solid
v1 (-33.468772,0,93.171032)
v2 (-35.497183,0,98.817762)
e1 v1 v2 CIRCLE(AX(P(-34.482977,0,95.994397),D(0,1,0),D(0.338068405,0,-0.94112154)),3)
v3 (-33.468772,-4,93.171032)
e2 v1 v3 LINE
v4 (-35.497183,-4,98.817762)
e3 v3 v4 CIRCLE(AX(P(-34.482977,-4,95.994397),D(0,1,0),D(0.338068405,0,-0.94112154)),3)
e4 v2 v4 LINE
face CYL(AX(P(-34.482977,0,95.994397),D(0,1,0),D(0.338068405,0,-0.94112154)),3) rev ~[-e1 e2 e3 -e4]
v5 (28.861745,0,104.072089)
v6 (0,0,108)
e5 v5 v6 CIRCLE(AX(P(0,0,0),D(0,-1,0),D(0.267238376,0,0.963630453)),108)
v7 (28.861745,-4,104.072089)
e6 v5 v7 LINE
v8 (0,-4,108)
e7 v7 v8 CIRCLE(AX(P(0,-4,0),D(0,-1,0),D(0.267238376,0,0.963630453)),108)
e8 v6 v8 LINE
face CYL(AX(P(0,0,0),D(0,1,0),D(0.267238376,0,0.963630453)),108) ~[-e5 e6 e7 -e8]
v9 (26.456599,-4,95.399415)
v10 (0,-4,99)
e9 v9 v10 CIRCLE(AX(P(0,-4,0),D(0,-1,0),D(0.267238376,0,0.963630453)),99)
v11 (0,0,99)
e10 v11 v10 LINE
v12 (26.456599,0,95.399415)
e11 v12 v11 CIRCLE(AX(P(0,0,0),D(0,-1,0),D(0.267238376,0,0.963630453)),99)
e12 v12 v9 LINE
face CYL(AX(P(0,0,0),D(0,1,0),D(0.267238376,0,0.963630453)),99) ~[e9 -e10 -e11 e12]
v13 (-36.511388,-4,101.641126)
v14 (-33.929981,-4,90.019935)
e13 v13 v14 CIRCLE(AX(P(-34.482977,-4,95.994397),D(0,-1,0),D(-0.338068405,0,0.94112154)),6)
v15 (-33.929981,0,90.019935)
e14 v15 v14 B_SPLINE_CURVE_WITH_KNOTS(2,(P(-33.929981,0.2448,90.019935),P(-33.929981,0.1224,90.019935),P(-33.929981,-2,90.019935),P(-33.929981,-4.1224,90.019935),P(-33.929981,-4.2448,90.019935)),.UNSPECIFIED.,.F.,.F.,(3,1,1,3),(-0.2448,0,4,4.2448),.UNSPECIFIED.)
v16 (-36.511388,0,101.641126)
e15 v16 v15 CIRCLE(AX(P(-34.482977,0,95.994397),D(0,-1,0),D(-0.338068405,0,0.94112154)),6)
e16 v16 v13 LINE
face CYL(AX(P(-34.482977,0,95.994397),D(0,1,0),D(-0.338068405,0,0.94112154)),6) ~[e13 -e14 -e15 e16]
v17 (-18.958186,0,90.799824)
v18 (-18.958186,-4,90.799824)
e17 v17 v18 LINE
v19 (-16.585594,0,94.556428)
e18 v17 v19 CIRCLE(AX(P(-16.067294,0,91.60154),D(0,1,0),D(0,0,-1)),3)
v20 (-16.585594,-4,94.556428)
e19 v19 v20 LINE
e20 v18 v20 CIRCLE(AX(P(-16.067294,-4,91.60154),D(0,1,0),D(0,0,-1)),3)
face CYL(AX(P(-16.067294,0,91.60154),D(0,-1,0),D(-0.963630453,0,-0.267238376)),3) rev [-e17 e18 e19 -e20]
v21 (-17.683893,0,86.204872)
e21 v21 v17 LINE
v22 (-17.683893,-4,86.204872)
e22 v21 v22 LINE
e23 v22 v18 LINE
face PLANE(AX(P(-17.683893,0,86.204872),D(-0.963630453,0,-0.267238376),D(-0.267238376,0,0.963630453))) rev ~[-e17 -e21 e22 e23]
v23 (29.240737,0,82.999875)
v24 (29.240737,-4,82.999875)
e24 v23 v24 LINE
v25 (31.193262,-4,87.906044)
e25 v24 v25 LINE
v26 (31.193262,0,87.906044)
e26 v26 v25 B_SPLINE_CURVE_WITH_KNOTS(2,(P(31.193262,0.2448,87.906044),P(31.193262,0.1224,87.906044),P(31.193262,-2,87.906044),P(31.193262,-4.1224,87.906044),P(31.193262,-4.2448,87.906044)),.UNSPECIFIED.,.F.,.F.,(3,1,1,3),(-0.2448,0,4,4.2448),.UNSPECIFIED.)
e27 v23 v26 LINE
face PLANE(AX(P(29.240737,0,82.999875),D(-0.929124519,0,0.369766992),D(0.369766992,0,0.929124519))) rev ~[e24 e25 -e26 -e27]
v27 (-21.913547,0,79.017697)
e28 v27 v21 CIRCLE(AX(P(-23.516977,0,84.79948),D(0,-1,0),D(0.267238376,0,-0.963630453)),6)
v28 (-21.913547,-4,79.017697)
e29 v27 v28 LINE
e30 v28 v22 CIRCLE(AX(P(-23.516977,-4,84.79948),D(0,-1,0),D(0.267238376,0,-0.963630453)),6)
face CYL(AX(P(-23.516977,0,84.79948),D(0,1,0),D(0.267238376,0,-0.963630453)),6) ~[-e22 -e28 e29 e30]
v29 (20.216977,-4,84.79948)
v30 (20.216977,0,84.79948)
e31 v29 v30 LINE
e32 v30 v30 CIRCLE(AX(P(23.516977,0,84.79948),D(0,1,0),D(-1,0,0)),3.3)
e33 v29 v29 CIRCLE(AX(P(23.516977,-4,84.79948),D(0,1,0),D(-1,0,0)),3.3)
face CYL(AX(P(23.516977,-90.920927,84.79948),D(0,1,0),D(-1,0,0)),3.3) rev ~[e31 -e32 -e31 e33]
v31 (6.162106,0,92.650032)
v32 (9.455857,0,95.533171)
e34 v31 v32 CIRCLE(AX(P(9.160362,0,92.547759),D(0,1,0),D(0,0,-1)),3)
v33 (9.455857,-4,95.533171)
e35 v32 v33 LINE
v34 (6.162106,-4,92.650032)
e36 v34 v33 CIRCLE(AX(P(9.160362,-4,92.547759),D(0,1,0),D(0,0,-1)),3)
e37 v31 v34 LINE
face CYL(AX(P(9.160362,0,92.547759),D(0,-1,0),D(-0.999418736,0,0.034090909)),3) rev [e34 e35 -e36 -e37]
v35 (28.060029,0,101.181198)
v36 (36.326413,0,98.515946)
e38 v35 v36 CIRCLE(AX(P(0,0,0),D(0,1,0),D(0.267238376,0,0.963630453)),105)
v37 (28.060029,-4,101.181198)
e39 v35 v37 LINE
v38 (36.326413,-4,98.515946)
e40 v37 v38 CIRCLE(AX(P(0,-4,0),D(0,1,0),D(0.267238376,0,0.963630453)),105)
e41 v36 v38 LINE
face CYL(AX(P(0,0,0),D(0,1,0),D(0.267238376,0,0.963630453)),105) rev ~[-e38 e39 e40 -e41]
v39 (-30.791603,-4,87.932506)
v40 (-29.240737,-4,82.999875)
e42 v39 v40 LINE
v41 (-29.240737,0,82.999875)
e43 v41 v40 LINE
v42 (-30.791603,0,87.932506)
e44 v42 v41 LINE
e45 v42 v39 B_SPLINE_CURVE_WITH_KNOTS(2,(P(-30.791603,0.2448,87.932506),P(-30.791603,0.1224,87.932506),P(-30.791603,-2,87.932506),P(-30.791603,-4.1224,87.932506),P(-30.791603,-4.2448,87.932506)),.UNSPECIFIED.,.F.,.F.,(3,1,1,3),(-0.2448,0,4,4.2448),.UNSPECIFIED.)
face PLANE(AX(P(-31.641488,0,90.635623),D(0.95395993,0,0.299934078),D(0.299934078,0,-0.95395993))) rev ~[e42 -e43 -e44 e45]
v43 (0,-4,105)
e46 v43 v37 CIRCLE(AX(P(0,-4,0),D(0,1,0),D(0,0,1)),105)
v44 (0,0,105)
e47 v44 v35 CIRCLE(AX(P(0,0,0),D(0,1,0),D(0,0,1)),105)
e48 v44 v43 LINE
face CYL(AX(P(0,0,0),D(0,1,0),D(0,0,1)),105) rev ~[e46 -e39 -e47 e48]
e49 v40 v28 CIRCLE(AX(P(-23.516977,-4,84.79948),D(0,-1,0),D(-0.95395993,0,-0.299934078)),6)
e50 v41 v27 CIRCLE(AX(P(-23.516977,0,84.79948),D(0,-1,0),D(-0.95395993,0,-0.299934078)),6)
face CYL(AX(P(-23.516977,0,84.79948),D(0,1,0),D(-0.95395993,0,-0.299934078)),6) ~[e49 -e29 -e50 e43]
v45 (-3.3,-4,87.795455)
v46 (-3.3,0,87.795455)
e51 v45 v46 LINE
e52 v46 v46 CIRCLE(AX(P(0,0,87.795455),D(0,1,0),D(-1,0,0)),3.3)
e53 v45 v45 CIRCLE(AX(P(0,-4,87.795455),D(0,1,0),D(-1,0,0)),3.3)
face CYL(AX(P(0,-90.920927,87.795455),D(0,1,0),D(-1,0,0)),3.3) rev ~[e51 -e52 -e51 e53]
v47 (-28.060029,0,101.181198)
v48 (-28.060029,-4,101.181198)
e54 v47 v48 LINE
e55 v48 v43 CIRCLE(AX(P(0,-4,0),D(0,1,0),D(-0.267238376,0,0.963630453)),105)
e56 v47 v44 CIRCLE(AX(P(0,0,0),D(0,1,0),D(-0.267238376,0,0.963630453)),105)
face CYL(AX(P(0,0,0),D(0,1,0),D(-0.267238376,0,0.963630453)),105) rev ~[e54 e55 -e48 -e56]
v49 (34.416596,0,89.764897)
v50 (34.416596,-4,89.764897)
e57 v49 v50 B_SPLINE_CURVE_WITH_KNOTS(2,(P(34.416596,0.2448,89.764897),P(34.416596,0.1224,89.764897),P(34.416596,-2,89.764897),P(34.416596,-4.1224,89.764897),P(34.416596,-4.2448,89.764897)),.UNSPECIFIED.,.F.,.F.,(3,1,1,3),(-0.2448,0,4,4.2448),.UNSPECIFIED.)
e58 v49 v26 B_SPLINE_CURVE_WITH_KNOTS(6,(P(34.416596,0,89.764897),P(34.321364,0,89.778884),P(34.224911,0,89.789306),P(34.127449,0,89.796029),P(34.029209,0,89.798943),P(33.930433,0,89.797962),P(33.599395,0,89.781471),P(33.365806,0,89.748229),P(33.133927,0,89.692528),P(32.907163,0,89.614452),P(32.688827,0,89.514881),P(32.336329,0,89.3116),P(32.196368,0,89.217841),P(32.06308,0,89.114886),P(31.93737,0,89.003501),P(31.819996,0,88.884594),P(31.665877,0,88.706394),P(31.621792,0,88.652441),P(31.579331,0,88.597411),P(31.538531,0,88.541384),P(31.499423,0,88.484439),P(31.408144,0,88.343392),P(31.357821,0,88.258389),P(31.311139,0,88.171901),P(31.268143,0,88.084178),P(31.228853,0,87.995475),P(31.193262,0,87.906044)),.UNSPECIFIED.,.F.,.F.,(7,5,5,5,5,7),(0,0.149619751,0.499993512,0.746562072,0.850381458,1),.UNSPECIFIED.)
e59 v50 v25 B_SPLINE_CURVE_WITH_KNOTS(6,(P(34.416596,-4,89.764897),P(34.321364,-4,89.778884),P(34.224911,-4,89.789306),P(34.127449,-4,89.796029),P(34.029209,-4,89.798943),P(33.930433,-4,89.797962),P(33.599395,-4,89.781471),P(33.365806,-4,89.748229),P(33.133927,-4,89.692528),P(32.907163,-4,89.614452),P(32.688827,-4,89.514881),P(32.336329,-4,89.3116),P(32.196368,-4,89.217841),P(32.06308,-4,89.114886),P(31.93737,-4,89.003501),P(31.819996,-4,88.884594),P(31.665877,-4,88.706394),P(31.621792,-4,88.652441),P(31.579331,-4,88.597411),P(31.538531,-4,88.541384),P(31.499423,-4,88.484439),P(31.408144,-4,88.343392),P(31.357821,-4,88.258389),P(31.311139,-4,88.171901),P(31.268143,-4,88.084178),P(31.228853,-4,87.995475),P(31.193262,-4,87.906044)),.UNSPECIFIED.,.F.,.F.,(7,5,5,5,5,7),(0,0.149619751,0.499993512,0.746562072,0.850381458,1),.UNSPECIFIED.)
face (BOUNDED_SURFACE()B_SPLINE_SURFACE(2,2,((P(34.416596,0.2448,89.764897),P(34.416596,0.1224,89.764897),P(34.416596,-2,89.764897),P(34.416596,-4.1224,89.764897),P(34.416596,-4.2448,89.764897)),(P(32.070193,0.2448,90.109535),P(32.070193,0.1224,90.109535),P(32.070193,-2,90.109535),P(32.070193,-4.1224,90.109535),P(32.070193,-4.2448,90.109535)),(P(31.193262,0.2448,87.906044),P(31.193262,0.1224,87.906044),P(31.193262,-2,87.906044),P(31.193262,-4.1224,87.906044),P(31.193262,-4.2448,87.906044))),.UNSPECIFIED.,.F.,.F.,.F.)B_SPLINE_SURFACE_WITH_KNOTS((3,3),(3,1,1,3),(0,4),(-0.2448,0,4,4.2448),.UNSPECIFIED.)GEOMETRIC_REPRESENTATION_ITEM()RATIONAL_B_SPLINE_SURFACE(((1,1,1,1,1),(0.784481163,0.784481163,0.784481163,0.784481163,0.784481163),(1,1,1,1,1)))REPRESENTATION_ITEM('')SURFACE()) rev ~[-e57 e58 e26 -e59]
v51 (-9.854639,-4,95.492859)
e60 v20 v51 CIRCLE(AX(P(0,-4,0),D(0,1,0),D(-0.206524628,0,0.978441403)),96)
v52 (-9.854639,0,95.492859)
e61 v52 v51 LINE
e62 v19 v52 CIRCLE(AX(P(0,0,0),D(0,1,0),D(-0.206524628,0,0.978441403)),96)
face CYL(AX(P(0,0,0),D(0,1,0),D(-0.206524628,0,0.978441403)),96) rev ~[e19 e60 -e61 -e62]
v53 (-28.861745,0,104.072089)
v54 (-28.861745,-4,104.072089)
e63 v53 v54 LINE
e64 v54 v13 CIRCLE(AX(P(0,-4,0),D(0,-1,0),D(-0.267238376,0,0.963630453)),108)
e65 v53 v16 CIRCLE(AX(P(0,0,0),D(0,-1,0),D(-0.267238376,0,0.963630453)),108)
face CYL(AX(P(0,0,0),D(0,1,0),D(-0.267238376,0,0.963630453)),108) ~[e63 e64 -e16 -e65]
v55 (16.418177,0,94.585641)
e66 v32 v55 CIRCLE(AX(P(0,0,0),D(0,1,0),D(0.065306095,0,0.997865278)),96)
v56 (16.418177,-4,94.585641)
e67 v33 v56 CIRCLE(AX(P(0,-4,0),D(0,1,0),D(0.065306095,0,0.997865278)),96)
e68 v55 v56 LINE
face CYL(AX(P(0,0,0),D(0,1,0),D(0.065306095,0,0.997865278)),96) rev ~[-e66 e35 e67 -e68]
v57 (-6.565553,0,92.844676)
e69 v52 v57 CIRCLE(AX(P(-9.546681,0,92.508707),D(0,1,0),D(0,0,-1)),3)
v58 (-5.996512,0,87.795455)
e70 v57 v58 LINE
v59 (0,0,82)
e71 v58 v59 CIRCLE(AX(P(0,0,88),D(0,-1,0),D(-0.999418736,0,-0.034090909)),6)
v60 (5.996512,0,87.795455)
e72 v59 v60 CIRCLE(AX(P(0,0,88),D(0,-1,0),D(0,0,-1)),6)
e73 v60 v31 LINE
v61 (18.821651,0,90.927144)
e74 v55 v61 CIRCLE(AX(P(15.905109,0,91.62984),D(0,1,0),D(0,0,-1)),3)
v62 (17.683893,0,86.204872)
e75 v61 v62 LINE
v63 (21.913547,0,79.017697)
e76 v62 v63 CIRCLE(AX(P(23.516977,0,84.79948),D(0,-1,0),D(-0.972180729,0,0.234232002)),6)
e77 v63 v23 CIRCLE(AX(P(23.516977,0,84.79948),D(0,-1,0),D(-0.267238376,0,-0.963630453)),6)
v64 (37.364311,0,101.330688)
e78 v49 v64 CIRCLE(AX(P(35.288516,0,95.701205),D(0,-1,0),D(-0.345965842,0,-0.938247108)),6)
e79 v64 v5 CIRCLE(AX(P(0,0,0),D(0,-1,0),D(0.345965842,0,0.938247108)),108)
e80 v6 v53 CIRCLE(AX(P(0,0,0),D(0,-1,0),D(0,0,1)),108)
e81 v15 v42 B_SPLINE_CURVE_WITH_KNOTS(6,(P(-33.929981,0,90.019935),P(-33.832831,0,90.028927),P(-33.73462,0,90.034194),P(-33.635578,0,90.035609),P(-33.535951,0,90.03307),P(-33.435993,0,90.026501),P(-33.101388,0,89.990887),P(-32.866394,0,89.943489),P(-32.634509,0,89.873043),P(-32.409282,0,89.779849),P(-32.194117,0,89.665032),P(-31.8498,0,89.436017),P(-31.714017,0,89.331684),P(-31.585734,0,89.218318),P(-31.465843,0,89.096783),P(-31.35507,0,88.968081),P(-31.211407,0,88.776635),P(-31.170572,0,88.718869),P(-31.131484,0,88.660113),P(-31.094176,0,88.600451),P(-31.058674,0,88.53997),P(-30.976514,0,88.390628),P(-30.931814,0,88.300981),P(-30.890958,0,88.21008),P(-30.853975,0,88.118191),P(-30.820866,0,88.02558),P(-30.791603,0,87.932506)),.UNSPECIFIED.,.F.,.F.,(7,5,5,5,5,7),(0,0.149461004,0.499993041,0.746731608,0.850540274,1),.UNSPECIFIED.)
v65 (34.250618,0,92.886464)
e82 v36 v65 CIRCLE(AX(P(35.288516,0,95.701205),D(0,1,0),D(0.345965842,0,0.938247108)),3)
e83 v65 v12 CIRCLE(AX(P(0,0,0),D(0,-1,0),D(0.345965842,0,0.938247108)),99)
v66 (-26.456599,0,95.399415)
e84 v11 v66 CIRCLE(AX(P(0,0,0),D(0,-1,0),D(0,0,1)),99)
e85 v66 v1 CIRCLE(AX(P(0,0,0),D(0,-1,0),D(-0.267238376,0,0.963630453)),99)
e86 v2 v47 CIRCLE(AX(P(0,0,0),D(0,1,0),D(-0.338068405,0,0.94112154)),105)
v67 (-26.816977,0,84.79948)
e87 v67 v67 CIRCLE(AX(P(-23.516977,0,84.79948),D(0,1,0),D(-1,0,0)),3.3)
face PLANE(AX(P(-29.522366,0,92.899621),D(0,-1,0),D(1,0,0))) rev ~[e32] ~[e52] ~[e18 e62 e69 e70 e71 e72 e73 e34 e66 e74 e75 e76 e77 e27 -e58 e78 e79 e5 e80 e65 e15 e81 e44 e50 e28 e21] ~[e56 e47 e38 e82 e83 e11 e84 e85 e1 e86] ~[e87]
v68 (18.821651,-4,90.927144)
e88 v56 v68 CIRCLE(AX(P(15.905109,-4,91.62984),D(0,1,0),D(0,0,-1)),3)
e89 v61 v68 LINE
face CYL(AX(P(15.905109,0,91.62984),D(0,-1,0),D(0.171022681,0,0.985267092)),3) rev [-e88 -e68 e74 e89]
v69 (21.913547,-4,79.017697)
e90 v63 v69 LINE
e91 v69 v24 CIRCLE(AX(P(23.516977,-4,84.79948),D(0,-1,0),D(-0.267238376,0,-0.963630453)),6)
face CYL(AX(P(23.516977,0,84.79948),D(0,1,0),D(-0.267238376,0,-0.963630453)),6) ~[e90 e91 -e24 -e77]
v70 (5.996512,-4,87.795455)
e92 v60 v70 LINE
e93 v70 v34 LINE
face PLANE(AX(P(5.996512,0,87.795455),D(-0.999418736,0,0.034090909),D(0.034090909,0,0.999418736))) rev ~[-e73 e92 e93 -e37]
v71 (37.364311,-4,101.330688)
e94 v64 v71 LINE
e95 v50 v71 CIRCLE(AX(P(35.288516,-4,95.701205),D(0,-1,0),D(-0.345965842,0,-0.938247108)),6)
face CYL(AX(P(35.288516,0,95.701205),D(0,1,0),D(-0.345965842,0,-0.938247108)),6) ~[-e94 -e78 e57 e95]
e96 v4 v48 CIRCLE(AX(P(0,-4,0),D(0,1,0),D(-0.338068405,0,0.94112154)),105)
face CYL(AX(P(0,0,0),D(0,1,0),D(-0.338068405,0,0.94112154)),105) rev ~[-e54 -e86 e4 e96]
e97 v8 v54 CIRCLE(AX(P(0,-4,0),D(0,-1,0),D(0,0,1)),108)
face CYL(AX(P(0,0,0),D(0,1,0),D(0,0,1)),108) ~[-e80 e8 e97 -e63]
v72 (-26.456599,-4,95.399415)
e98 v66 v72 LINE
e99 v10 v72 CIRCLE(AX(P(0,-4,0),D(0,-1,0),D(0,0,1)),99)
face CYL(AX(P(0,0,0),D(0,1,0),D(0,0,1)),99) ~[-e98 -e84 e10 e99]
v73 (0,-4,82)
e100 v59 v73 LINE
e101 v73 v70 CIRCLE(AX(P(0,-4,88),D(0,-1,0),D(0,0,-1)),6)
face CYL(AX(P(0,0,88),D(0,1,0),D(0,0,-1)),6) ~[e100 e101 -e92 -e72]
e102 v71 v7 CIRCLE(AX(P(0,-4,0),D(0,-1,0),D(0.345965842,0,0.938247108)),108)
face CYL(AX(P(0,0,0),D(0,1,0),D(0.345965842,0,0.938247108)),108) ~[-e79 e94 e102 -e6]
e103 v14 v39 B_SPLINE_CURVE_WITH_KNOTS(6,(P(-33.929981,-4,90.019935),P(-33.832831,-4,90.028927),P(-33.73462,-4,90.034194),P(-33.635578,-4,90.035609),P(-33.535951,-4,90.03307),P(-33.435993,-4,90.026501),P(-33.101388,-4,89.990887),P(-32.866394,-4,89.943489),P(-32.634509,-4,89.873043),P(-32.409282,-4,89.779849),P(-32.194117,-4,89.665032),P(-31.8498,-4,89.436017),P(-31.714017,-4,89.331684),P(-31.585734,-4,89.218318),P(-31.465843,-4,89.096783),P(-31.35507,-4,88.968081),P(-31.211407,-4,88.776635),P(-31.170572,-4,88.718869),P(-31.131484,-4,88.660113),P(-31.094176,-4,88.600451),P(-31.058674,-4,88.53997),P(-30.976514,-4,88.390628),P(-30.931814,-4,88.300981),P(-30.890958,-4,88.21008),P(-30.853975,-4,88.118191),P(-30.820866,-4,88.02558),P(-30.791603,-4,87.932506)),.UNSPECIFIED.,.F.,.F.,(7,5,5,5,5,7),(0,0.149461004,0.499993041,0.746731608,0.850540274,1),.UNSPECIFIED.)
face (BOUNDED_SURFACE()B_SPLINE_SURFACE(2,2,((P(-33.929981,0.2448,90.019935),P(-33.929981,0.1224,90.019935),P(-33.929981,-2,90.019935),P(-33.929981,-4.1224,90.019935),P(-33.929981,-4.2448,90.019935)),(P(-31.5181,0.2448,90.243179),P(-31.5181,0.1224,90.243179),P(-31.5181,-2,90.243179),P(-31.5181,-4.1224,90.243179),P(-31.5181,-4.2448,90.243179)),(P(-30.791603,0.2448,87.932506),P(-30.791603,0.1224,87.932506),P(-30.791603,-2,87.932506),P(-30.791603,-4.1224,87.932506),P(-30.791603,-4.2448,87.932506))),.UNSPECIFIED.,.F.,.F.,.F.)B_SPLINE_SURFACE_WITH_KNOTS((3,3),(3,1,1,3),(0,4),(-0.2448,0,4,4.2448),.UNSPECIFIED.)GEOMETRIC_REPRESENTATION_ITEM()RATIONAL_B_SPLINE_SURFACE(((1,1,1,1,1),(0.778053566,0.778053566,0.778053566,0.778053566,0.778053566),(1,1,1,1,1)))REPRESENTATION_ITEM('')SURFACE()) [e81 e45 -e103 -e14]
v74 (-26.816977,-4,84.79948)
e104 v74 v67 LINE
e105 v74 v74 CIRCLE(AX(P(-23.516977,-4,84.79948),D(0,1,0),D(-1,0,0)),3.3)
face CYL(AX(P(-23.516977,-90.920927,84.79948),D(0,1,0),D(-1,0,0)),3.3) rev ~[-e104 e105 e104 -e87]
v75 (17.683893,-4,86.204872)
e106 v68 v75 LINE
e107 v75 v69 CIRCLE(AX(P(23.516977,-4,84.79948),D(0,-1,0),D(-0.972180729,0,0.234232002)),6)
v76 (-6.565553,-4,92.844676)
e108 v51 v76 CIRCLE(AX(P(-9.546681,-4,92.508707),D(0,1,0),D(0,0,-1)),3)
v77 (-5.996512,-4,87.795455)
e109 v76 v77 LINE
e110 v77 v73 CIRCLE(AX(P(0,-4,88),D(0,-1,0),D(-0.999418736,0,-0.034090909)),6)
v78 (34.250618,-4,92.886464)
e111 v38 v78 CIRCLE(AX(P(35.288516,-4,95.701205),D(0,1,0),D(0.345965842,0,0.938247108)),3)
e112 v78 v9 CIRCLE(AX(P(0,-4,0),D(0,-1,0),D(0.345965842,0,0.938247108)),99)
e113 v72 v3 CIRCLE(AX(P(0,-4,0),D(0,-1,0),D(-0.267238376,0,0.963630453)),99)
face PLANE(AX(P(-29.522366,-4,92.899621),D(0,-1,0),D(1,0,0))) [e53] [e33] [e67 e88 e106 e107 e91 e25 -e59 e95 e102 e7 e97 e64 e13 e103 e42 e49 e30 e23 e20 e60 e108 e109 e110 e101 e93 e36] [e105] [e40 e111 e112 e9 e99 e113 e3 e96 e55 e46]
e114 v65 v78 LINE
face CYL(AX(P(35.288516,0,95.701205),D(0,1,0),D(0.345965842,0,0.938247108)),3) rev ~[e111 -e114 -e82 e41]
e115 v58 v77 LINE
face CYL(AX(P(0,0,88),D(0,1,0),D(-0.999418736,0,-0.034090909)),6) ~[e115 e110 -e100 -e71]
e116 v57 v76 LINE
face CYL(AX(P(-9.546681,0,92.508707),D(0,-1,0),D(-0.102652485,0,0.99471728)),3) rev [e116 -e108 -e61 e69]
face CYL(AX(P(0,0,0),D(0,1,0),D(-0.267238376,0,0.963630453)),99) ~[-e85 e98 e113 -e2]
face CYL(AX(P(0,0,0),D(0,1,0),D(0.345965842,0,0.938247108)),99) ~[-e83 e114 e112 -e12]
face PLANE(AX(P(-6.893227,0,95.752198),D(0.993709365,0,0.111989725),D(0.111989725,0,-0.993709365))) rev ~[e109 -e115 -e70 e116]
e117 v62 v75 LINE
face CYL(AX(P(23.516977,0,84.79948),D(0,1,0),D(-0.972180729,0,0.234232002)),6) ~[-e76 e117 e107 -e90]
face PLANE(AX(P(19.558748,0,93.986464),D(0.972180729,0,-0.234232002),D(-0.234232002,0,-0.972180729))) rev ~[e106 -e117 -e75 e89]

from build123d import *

# Parameters (mm, degrees)
F1_DEPTH = 4
F3_D     = 6.6
F4_R     = 3


with BuildPart() as f1:
    # F0 (on Front) → F1 (new body)
    with BuildSketch(Plane.XZ):
        with BuildLine():
            Line((-33.4687721395, 93.1710324697), (-32.4545669232, 90.3476678494))
            ThreePointArc((-32.4545669232, 90.3476678494), (-32.0483511021, 90.4925587639), (-31.6414884556, 90.6356232853))
            ThreePointArc((-31.6414884556, 90.6356232853), (-28.6634875045, 91.6209827718), (-25.6548841035, 92.508523508))
            Line((-25.6548841035, 92.508523508), (-26.4565992317, 95.3994148677))
            ThreePointArc((-26.4565992318, 95.3994148677), (-29.9833946631, 94.350389742), (-33.4687721395, 93.1710324697))
        make_face()
        with BuildLine():
            ThreePointArc((0, 99), (-13.3502420971, 98.0957238413), (-26.4565992318, 95.3994148677))
            Line((-26.4565992317, 95.3994148677), (-25.6548841035, 92.508523508))
            ThreePointArc((-25.6548841035, 92.508523508), (-22.7517340683, 93.2649912716), (-19.8263642502, 93.9303746432))
            ThreePointArc((-19.8263642502, 93.9303746432), (-13.3908139049, 95.0614859076), (-6.8932268351, 95.7521980103))
            ThreePointArc((-6.8932268351, 95.7521980103), (-3.4488397334, 95.9380295008), (0, 96))
            Line((0, 96), (0, 99))
        make_face()
        with BuildLine():
            ThreePointArc((-19.8263642502, 93.9303746432), (-22.7517340683, 93.2649912716), (-25.6548841035, 92.508523508))
            Line((-25.6548841035, 92.508523508), (-23.5169770949, 84.7994798824))
            ThreePointArc((-23.5169770949, 84.7994798824), (-20.6124161637, 85.5519041278), (-17.6838927225, 86.2048718935))
            Line((-17.6838927225, 86.2048718935), (-19.8263642502, 93.9303746432))
        make_face()
        with BuildLine():
            ThreePointArc((-25.6548841035, 92.508523508), (-28.6634875045, 91.6209827718), (-31.6414884556, 90.6356232853))
            Line((-31.6414884556, 90.6356232853), (-29.240736677, 82.9998754131))
            ThreePointArc((-29.240736677, 82.9998754131), (-26.3941988829, 83.9484738714), (-23.5169770949, 84.7994798824))
            Line((-23.5169770949, 84.7994798824), (-25.6548841035, 92.508523508))
        make_face()
        with BuildLine():
            ThreePointArc((-23.5169770949, 84.7994798824), (-26.3941988829, 83.9484738714), (-29.240736677, 82.9998754131))
            ThreePointArc((-29.240736677, 82.9998754131), (-26.3820624935, 79.5277358011), (-21.9135468384, 79.0176971631))
            Line((-21.9135468384, 79.0176971631), (-23.5169770949, 84.7994798824))
        make_face()
        with BuildLine():
            Line((-23.5169770949, 84.7994798824), (-21.9135468384, 79.0176971631))
            ThreePointArc((-21.9135468384, 79.0176971631), (-18.3459706544, 81.7563413064), (-17.6838927225, 86.2048718935))
            ThreePointArc((-17.6838927225, 86.2048718935), (-20.6124161637, 85.5519041278), (-23.5169770949, 84.7994798824))
        make_face()
        with BuildLine():
            Line((0, 88), (0, 96))
            ThreePointArc((0, 96), (-3.4488397334, 95.9380295008), (-6.8932268351, 95.7521980103))
            Line((-6.8932268351, 95.7521980103), (-5.9965124161, 87.7954545455))
            ThreePointArc((-5.9965124161, 87.7954545455), (-3, 87.9488487702), (0, 88))
        make_face()
        with BuildLine():
            ThreePointArc((6.2693850791, 95.7950667348), (3.1363668039, 95.9487530053), (0, 96))
            Line((0, 96), (0, 88))
            ThreePointArc((0, 88), (3, 87.9488487702), (5.9965124161, 87.7954545455))
            Line((5.9965124161, 87.7954545455), (6.2693850791, 95.7950667348))
        make_face()
        with BuildLine():
            Line((0, 88), (0, 82))
            ThreePointArc((0, 82), (4.1696958686, 83.685647631), (5.9965124161, 87.7954545455))
            ThreePointArc((5.9965124161, 87.7954545455), (3, 87.9488487702), (0, 88))
        make_face()
        with BuildLine():
            ThreePointArc((-5.9965124161, 87.7954545455), (-4.1696958686, 83.685647631), (0, 82))
            Line((0, 82), (0, 88))
            ThreePointArc((0, 88), (-3, 87.9488487702), (-5.9965124161, 87.7954545455))
        make_face()
        with BuildLine():
            ThreePointArc((26.4565992318, 95.3994148677), (13.3502420971, 98.0957238413), (0, 99))
            Line((0, 99), (0, 96))
            ThreePointArc((0, 96), (3.1363668039, 95.9487530053), (6.2693850791, 95.7950667348))
            ThreePointArc((6.2693850791, 95.7950667348), (12.9456893063, 95.1231261491), (19.5587476854, 93.9864638604))
            ThreePointArc((19.5587476854, 93.9864638604), (22.6188903752, 93.2972979147), (25.6548841035, 92.508523508))
            Line((25.6548841035, 92.508523508), (26.4565992317, 95.3994148677))
        make_face()
        with BuildLine():
            Line((-35.4971825722, 98.8177617103), (-36.5113877886, 101.6411263306))
            ThreePointArc((-36.5113877886, 101.6411263306), (-40.1297065965, 93.9659866573), (-32.4545669232, 90.3476678494))
            Line((-32.4545669232, 90.3476678494), (-33.4687721395, 93.1710324697))
            ThreePointArc((-33.4687721395, 93.1710324697), (-37.3063419762, 94.9801918737), (-35.4971825722, 98.8177617103))
        make_face()
        with BuildLine():
            ThreePointArc((-28.8617446165, 104.0720889465), (-32.7091578143, 102.9276979004), (-36.5113877886, 101.6411263306))
            Line((-36.5113877886, 101.6411263306), (-35.4971825722, 98.8177617103))
            ThreePointArc((-35.4971825722, 98.8177617103), (-31.8005700973, 100.068595181), (-28.0600294882, 101.1811975869))
            Line((-28.0600294882, 101.1811975869), (-28.8617446165, 104.0720889465))
        make_face()
        with BuildLine():
            ThreePointArc((0, 108), (-14.5639004696, 107.0135169178), (-28.8617446165, 104.0720889465))
            Line((-28.8617446165, 104.0720889465), (-28.0600294882, 101.1811975869))
            ThreePointArc((-28.0600294882, 101.1811975869), (-14.1593476787, 104.0409192256), (0, 105))
            Line((0, 105), (0, 108))
        make_face()
        with BuildLine():
            ThreePointArc((28.8617446165, 104.0720889465), (14.5639004696, 107.0135169178), (0, 108))
            Line((0, 108), (0, 105))
            ThreePointArc((0, 105), (14.1593476787, 104.0409192256), (28.0600294882, 101.1811975869))
            Line((28.0600294882, 101.1811975869), (28.8617446165, 104.0720889465))
        make_face()
        with BuildLine():
            ThreePointArc((37.3643109139, 101.3306877009), (33.1413854263, 102.789340751), (28.8617446165, 104.0720889465))
            Line((28.8617446165, 104.0720889465), (28.0600294882, 101.1811975869))
            ThreePointArc((28.0600294882, 101.1811975869), (32.2207913867, 99.9340812857), (36.3264133885, 98.5159463758))
            Line((36.3264133885, 98.5159463758), (37.3643109139, 101.3306877009))
        make_face()
        with BuildLine():
            ThreePointArc((33.2127208123, 90.0717224008), (40.9179985132, 93.62541), (37.3643109139, 101.3306877009))
            Line((37.3643109139, 101.3306877009), (36.3264133885, 98.5159463758))
            ThreePointArc((36.3264133885, 98.5159463758), (38.1032571881, 94.6633075254), (34.2506183377, 92.8864637258))
            Line((34.2506183377, 92.8864637258), (33.2127208123, 90.0717224008))
        make_face()
        with BuildLine():
            ThreePointArc((32.2010471833, 90.4383356785), (32.7073976674, 90.2564465167), (33.2127208123, 90.0717224008))
            Line((33.2127208123, 90.0717224008), (34.2506183377, 92.8864637258))
            ThreePointArc((34.2506183377, 92.8864637258), (30.3796033074, 94.2235623551), (26.4565992318, 95.3994148677))
            Line((26.4565992317, 95.3994148677), (25.6548841035, 92.508523508))
            ThreePointArc((25.6548841035, 92.508523508), (28.9464784677, 91.5319691928), (32.2010471833, 90.4383356785))
        make_face()
        with BuildLine():
            ThreePointArc((23.5169770949, 84.7994798824), (26.3941988829, 83.9484738714), (29.240736677, 82.9998754131))
            Line((29.240736677, 82.9998754131), (32.2010471833, 90.4383356785))
            ThreePointArc((32.2010471833, 90.4383356785), (28.9464784677, 91.5319691928), (25.6548841035, 92.508523508))
            Line((25.6548841035, 92.508523508), (23.5169770949, 84.7994798824))
        make_face()
        with BuildLine():
            ThreePointArc((17.6838927225, 86.2048718935), (20.6124161637, 85.5519041278), (23.5169770949, 84.7994798824))
            Line((23.5169770949, 84.7994798824), (25.6548841035, 92.508523508))
            ThreePointArc((25.6548841035, 92.508523508), (22.6188903752, 93.2972979147), (19.5587476854, 93.9864638604))
            Line((19.5587476854, 93.9864638604), (17.6838927225, 86.2048718935))
        make_face()
        with BuildLine():
            ThreePointArc((17.6838927225, 86.2048718935), (18.3459706544, 81.7563413064), (21.9135468384, 79.0176971631))
            Line((21.9135468384, 79.0176971631), (23.5169770949, 84.7994798824))
            ThreePointArc((23.5169770949, 84.7994798824), (20.6124161637, 85.5519041278), (17.6838927225, 86.2048718935))
        make_face()
        with BuildLine():
            Line((23.5169770949, 84.7994798824), (21.9135468384, 79.0176971631))
            ThreePointArc((21.9135468384, 79.0176971631), (26.3820624935, 79.5277358011), (29.240736677, 82.9998754131))
            ThreePointArc((29.240736677, 82.9998754131), (26.3941988829, 83.9484738714), (23.5169770949, 84.7994798824))
        make_face()
    extrude(amount=F1_DEPTH)

    # F3 (through all)
    with Locations(Plane.XZ.offset(4)):
        with Locations((-23.5169770949, 84.7994798824), (0, 87.7954545455), (23.5169770949, 84.7994798824)):
            Hole(F3_D / 2)

    # F4
    f4_edges = [f1.edges().sort_by_distance(p)[0] for p in [
        (-19.826364, -2, 93.930375),
        (6.269385, -2, 95.795067),
        (-31.641488, -2, 90.635623),
        (-6.893227, -2, 95.752198),
        (19.558748, -2, 93.986464),
        (32.201047, -2, 90.438336),
    ]]
    fillet(f4_edges, radius=F4_R)


solid = f1.part
